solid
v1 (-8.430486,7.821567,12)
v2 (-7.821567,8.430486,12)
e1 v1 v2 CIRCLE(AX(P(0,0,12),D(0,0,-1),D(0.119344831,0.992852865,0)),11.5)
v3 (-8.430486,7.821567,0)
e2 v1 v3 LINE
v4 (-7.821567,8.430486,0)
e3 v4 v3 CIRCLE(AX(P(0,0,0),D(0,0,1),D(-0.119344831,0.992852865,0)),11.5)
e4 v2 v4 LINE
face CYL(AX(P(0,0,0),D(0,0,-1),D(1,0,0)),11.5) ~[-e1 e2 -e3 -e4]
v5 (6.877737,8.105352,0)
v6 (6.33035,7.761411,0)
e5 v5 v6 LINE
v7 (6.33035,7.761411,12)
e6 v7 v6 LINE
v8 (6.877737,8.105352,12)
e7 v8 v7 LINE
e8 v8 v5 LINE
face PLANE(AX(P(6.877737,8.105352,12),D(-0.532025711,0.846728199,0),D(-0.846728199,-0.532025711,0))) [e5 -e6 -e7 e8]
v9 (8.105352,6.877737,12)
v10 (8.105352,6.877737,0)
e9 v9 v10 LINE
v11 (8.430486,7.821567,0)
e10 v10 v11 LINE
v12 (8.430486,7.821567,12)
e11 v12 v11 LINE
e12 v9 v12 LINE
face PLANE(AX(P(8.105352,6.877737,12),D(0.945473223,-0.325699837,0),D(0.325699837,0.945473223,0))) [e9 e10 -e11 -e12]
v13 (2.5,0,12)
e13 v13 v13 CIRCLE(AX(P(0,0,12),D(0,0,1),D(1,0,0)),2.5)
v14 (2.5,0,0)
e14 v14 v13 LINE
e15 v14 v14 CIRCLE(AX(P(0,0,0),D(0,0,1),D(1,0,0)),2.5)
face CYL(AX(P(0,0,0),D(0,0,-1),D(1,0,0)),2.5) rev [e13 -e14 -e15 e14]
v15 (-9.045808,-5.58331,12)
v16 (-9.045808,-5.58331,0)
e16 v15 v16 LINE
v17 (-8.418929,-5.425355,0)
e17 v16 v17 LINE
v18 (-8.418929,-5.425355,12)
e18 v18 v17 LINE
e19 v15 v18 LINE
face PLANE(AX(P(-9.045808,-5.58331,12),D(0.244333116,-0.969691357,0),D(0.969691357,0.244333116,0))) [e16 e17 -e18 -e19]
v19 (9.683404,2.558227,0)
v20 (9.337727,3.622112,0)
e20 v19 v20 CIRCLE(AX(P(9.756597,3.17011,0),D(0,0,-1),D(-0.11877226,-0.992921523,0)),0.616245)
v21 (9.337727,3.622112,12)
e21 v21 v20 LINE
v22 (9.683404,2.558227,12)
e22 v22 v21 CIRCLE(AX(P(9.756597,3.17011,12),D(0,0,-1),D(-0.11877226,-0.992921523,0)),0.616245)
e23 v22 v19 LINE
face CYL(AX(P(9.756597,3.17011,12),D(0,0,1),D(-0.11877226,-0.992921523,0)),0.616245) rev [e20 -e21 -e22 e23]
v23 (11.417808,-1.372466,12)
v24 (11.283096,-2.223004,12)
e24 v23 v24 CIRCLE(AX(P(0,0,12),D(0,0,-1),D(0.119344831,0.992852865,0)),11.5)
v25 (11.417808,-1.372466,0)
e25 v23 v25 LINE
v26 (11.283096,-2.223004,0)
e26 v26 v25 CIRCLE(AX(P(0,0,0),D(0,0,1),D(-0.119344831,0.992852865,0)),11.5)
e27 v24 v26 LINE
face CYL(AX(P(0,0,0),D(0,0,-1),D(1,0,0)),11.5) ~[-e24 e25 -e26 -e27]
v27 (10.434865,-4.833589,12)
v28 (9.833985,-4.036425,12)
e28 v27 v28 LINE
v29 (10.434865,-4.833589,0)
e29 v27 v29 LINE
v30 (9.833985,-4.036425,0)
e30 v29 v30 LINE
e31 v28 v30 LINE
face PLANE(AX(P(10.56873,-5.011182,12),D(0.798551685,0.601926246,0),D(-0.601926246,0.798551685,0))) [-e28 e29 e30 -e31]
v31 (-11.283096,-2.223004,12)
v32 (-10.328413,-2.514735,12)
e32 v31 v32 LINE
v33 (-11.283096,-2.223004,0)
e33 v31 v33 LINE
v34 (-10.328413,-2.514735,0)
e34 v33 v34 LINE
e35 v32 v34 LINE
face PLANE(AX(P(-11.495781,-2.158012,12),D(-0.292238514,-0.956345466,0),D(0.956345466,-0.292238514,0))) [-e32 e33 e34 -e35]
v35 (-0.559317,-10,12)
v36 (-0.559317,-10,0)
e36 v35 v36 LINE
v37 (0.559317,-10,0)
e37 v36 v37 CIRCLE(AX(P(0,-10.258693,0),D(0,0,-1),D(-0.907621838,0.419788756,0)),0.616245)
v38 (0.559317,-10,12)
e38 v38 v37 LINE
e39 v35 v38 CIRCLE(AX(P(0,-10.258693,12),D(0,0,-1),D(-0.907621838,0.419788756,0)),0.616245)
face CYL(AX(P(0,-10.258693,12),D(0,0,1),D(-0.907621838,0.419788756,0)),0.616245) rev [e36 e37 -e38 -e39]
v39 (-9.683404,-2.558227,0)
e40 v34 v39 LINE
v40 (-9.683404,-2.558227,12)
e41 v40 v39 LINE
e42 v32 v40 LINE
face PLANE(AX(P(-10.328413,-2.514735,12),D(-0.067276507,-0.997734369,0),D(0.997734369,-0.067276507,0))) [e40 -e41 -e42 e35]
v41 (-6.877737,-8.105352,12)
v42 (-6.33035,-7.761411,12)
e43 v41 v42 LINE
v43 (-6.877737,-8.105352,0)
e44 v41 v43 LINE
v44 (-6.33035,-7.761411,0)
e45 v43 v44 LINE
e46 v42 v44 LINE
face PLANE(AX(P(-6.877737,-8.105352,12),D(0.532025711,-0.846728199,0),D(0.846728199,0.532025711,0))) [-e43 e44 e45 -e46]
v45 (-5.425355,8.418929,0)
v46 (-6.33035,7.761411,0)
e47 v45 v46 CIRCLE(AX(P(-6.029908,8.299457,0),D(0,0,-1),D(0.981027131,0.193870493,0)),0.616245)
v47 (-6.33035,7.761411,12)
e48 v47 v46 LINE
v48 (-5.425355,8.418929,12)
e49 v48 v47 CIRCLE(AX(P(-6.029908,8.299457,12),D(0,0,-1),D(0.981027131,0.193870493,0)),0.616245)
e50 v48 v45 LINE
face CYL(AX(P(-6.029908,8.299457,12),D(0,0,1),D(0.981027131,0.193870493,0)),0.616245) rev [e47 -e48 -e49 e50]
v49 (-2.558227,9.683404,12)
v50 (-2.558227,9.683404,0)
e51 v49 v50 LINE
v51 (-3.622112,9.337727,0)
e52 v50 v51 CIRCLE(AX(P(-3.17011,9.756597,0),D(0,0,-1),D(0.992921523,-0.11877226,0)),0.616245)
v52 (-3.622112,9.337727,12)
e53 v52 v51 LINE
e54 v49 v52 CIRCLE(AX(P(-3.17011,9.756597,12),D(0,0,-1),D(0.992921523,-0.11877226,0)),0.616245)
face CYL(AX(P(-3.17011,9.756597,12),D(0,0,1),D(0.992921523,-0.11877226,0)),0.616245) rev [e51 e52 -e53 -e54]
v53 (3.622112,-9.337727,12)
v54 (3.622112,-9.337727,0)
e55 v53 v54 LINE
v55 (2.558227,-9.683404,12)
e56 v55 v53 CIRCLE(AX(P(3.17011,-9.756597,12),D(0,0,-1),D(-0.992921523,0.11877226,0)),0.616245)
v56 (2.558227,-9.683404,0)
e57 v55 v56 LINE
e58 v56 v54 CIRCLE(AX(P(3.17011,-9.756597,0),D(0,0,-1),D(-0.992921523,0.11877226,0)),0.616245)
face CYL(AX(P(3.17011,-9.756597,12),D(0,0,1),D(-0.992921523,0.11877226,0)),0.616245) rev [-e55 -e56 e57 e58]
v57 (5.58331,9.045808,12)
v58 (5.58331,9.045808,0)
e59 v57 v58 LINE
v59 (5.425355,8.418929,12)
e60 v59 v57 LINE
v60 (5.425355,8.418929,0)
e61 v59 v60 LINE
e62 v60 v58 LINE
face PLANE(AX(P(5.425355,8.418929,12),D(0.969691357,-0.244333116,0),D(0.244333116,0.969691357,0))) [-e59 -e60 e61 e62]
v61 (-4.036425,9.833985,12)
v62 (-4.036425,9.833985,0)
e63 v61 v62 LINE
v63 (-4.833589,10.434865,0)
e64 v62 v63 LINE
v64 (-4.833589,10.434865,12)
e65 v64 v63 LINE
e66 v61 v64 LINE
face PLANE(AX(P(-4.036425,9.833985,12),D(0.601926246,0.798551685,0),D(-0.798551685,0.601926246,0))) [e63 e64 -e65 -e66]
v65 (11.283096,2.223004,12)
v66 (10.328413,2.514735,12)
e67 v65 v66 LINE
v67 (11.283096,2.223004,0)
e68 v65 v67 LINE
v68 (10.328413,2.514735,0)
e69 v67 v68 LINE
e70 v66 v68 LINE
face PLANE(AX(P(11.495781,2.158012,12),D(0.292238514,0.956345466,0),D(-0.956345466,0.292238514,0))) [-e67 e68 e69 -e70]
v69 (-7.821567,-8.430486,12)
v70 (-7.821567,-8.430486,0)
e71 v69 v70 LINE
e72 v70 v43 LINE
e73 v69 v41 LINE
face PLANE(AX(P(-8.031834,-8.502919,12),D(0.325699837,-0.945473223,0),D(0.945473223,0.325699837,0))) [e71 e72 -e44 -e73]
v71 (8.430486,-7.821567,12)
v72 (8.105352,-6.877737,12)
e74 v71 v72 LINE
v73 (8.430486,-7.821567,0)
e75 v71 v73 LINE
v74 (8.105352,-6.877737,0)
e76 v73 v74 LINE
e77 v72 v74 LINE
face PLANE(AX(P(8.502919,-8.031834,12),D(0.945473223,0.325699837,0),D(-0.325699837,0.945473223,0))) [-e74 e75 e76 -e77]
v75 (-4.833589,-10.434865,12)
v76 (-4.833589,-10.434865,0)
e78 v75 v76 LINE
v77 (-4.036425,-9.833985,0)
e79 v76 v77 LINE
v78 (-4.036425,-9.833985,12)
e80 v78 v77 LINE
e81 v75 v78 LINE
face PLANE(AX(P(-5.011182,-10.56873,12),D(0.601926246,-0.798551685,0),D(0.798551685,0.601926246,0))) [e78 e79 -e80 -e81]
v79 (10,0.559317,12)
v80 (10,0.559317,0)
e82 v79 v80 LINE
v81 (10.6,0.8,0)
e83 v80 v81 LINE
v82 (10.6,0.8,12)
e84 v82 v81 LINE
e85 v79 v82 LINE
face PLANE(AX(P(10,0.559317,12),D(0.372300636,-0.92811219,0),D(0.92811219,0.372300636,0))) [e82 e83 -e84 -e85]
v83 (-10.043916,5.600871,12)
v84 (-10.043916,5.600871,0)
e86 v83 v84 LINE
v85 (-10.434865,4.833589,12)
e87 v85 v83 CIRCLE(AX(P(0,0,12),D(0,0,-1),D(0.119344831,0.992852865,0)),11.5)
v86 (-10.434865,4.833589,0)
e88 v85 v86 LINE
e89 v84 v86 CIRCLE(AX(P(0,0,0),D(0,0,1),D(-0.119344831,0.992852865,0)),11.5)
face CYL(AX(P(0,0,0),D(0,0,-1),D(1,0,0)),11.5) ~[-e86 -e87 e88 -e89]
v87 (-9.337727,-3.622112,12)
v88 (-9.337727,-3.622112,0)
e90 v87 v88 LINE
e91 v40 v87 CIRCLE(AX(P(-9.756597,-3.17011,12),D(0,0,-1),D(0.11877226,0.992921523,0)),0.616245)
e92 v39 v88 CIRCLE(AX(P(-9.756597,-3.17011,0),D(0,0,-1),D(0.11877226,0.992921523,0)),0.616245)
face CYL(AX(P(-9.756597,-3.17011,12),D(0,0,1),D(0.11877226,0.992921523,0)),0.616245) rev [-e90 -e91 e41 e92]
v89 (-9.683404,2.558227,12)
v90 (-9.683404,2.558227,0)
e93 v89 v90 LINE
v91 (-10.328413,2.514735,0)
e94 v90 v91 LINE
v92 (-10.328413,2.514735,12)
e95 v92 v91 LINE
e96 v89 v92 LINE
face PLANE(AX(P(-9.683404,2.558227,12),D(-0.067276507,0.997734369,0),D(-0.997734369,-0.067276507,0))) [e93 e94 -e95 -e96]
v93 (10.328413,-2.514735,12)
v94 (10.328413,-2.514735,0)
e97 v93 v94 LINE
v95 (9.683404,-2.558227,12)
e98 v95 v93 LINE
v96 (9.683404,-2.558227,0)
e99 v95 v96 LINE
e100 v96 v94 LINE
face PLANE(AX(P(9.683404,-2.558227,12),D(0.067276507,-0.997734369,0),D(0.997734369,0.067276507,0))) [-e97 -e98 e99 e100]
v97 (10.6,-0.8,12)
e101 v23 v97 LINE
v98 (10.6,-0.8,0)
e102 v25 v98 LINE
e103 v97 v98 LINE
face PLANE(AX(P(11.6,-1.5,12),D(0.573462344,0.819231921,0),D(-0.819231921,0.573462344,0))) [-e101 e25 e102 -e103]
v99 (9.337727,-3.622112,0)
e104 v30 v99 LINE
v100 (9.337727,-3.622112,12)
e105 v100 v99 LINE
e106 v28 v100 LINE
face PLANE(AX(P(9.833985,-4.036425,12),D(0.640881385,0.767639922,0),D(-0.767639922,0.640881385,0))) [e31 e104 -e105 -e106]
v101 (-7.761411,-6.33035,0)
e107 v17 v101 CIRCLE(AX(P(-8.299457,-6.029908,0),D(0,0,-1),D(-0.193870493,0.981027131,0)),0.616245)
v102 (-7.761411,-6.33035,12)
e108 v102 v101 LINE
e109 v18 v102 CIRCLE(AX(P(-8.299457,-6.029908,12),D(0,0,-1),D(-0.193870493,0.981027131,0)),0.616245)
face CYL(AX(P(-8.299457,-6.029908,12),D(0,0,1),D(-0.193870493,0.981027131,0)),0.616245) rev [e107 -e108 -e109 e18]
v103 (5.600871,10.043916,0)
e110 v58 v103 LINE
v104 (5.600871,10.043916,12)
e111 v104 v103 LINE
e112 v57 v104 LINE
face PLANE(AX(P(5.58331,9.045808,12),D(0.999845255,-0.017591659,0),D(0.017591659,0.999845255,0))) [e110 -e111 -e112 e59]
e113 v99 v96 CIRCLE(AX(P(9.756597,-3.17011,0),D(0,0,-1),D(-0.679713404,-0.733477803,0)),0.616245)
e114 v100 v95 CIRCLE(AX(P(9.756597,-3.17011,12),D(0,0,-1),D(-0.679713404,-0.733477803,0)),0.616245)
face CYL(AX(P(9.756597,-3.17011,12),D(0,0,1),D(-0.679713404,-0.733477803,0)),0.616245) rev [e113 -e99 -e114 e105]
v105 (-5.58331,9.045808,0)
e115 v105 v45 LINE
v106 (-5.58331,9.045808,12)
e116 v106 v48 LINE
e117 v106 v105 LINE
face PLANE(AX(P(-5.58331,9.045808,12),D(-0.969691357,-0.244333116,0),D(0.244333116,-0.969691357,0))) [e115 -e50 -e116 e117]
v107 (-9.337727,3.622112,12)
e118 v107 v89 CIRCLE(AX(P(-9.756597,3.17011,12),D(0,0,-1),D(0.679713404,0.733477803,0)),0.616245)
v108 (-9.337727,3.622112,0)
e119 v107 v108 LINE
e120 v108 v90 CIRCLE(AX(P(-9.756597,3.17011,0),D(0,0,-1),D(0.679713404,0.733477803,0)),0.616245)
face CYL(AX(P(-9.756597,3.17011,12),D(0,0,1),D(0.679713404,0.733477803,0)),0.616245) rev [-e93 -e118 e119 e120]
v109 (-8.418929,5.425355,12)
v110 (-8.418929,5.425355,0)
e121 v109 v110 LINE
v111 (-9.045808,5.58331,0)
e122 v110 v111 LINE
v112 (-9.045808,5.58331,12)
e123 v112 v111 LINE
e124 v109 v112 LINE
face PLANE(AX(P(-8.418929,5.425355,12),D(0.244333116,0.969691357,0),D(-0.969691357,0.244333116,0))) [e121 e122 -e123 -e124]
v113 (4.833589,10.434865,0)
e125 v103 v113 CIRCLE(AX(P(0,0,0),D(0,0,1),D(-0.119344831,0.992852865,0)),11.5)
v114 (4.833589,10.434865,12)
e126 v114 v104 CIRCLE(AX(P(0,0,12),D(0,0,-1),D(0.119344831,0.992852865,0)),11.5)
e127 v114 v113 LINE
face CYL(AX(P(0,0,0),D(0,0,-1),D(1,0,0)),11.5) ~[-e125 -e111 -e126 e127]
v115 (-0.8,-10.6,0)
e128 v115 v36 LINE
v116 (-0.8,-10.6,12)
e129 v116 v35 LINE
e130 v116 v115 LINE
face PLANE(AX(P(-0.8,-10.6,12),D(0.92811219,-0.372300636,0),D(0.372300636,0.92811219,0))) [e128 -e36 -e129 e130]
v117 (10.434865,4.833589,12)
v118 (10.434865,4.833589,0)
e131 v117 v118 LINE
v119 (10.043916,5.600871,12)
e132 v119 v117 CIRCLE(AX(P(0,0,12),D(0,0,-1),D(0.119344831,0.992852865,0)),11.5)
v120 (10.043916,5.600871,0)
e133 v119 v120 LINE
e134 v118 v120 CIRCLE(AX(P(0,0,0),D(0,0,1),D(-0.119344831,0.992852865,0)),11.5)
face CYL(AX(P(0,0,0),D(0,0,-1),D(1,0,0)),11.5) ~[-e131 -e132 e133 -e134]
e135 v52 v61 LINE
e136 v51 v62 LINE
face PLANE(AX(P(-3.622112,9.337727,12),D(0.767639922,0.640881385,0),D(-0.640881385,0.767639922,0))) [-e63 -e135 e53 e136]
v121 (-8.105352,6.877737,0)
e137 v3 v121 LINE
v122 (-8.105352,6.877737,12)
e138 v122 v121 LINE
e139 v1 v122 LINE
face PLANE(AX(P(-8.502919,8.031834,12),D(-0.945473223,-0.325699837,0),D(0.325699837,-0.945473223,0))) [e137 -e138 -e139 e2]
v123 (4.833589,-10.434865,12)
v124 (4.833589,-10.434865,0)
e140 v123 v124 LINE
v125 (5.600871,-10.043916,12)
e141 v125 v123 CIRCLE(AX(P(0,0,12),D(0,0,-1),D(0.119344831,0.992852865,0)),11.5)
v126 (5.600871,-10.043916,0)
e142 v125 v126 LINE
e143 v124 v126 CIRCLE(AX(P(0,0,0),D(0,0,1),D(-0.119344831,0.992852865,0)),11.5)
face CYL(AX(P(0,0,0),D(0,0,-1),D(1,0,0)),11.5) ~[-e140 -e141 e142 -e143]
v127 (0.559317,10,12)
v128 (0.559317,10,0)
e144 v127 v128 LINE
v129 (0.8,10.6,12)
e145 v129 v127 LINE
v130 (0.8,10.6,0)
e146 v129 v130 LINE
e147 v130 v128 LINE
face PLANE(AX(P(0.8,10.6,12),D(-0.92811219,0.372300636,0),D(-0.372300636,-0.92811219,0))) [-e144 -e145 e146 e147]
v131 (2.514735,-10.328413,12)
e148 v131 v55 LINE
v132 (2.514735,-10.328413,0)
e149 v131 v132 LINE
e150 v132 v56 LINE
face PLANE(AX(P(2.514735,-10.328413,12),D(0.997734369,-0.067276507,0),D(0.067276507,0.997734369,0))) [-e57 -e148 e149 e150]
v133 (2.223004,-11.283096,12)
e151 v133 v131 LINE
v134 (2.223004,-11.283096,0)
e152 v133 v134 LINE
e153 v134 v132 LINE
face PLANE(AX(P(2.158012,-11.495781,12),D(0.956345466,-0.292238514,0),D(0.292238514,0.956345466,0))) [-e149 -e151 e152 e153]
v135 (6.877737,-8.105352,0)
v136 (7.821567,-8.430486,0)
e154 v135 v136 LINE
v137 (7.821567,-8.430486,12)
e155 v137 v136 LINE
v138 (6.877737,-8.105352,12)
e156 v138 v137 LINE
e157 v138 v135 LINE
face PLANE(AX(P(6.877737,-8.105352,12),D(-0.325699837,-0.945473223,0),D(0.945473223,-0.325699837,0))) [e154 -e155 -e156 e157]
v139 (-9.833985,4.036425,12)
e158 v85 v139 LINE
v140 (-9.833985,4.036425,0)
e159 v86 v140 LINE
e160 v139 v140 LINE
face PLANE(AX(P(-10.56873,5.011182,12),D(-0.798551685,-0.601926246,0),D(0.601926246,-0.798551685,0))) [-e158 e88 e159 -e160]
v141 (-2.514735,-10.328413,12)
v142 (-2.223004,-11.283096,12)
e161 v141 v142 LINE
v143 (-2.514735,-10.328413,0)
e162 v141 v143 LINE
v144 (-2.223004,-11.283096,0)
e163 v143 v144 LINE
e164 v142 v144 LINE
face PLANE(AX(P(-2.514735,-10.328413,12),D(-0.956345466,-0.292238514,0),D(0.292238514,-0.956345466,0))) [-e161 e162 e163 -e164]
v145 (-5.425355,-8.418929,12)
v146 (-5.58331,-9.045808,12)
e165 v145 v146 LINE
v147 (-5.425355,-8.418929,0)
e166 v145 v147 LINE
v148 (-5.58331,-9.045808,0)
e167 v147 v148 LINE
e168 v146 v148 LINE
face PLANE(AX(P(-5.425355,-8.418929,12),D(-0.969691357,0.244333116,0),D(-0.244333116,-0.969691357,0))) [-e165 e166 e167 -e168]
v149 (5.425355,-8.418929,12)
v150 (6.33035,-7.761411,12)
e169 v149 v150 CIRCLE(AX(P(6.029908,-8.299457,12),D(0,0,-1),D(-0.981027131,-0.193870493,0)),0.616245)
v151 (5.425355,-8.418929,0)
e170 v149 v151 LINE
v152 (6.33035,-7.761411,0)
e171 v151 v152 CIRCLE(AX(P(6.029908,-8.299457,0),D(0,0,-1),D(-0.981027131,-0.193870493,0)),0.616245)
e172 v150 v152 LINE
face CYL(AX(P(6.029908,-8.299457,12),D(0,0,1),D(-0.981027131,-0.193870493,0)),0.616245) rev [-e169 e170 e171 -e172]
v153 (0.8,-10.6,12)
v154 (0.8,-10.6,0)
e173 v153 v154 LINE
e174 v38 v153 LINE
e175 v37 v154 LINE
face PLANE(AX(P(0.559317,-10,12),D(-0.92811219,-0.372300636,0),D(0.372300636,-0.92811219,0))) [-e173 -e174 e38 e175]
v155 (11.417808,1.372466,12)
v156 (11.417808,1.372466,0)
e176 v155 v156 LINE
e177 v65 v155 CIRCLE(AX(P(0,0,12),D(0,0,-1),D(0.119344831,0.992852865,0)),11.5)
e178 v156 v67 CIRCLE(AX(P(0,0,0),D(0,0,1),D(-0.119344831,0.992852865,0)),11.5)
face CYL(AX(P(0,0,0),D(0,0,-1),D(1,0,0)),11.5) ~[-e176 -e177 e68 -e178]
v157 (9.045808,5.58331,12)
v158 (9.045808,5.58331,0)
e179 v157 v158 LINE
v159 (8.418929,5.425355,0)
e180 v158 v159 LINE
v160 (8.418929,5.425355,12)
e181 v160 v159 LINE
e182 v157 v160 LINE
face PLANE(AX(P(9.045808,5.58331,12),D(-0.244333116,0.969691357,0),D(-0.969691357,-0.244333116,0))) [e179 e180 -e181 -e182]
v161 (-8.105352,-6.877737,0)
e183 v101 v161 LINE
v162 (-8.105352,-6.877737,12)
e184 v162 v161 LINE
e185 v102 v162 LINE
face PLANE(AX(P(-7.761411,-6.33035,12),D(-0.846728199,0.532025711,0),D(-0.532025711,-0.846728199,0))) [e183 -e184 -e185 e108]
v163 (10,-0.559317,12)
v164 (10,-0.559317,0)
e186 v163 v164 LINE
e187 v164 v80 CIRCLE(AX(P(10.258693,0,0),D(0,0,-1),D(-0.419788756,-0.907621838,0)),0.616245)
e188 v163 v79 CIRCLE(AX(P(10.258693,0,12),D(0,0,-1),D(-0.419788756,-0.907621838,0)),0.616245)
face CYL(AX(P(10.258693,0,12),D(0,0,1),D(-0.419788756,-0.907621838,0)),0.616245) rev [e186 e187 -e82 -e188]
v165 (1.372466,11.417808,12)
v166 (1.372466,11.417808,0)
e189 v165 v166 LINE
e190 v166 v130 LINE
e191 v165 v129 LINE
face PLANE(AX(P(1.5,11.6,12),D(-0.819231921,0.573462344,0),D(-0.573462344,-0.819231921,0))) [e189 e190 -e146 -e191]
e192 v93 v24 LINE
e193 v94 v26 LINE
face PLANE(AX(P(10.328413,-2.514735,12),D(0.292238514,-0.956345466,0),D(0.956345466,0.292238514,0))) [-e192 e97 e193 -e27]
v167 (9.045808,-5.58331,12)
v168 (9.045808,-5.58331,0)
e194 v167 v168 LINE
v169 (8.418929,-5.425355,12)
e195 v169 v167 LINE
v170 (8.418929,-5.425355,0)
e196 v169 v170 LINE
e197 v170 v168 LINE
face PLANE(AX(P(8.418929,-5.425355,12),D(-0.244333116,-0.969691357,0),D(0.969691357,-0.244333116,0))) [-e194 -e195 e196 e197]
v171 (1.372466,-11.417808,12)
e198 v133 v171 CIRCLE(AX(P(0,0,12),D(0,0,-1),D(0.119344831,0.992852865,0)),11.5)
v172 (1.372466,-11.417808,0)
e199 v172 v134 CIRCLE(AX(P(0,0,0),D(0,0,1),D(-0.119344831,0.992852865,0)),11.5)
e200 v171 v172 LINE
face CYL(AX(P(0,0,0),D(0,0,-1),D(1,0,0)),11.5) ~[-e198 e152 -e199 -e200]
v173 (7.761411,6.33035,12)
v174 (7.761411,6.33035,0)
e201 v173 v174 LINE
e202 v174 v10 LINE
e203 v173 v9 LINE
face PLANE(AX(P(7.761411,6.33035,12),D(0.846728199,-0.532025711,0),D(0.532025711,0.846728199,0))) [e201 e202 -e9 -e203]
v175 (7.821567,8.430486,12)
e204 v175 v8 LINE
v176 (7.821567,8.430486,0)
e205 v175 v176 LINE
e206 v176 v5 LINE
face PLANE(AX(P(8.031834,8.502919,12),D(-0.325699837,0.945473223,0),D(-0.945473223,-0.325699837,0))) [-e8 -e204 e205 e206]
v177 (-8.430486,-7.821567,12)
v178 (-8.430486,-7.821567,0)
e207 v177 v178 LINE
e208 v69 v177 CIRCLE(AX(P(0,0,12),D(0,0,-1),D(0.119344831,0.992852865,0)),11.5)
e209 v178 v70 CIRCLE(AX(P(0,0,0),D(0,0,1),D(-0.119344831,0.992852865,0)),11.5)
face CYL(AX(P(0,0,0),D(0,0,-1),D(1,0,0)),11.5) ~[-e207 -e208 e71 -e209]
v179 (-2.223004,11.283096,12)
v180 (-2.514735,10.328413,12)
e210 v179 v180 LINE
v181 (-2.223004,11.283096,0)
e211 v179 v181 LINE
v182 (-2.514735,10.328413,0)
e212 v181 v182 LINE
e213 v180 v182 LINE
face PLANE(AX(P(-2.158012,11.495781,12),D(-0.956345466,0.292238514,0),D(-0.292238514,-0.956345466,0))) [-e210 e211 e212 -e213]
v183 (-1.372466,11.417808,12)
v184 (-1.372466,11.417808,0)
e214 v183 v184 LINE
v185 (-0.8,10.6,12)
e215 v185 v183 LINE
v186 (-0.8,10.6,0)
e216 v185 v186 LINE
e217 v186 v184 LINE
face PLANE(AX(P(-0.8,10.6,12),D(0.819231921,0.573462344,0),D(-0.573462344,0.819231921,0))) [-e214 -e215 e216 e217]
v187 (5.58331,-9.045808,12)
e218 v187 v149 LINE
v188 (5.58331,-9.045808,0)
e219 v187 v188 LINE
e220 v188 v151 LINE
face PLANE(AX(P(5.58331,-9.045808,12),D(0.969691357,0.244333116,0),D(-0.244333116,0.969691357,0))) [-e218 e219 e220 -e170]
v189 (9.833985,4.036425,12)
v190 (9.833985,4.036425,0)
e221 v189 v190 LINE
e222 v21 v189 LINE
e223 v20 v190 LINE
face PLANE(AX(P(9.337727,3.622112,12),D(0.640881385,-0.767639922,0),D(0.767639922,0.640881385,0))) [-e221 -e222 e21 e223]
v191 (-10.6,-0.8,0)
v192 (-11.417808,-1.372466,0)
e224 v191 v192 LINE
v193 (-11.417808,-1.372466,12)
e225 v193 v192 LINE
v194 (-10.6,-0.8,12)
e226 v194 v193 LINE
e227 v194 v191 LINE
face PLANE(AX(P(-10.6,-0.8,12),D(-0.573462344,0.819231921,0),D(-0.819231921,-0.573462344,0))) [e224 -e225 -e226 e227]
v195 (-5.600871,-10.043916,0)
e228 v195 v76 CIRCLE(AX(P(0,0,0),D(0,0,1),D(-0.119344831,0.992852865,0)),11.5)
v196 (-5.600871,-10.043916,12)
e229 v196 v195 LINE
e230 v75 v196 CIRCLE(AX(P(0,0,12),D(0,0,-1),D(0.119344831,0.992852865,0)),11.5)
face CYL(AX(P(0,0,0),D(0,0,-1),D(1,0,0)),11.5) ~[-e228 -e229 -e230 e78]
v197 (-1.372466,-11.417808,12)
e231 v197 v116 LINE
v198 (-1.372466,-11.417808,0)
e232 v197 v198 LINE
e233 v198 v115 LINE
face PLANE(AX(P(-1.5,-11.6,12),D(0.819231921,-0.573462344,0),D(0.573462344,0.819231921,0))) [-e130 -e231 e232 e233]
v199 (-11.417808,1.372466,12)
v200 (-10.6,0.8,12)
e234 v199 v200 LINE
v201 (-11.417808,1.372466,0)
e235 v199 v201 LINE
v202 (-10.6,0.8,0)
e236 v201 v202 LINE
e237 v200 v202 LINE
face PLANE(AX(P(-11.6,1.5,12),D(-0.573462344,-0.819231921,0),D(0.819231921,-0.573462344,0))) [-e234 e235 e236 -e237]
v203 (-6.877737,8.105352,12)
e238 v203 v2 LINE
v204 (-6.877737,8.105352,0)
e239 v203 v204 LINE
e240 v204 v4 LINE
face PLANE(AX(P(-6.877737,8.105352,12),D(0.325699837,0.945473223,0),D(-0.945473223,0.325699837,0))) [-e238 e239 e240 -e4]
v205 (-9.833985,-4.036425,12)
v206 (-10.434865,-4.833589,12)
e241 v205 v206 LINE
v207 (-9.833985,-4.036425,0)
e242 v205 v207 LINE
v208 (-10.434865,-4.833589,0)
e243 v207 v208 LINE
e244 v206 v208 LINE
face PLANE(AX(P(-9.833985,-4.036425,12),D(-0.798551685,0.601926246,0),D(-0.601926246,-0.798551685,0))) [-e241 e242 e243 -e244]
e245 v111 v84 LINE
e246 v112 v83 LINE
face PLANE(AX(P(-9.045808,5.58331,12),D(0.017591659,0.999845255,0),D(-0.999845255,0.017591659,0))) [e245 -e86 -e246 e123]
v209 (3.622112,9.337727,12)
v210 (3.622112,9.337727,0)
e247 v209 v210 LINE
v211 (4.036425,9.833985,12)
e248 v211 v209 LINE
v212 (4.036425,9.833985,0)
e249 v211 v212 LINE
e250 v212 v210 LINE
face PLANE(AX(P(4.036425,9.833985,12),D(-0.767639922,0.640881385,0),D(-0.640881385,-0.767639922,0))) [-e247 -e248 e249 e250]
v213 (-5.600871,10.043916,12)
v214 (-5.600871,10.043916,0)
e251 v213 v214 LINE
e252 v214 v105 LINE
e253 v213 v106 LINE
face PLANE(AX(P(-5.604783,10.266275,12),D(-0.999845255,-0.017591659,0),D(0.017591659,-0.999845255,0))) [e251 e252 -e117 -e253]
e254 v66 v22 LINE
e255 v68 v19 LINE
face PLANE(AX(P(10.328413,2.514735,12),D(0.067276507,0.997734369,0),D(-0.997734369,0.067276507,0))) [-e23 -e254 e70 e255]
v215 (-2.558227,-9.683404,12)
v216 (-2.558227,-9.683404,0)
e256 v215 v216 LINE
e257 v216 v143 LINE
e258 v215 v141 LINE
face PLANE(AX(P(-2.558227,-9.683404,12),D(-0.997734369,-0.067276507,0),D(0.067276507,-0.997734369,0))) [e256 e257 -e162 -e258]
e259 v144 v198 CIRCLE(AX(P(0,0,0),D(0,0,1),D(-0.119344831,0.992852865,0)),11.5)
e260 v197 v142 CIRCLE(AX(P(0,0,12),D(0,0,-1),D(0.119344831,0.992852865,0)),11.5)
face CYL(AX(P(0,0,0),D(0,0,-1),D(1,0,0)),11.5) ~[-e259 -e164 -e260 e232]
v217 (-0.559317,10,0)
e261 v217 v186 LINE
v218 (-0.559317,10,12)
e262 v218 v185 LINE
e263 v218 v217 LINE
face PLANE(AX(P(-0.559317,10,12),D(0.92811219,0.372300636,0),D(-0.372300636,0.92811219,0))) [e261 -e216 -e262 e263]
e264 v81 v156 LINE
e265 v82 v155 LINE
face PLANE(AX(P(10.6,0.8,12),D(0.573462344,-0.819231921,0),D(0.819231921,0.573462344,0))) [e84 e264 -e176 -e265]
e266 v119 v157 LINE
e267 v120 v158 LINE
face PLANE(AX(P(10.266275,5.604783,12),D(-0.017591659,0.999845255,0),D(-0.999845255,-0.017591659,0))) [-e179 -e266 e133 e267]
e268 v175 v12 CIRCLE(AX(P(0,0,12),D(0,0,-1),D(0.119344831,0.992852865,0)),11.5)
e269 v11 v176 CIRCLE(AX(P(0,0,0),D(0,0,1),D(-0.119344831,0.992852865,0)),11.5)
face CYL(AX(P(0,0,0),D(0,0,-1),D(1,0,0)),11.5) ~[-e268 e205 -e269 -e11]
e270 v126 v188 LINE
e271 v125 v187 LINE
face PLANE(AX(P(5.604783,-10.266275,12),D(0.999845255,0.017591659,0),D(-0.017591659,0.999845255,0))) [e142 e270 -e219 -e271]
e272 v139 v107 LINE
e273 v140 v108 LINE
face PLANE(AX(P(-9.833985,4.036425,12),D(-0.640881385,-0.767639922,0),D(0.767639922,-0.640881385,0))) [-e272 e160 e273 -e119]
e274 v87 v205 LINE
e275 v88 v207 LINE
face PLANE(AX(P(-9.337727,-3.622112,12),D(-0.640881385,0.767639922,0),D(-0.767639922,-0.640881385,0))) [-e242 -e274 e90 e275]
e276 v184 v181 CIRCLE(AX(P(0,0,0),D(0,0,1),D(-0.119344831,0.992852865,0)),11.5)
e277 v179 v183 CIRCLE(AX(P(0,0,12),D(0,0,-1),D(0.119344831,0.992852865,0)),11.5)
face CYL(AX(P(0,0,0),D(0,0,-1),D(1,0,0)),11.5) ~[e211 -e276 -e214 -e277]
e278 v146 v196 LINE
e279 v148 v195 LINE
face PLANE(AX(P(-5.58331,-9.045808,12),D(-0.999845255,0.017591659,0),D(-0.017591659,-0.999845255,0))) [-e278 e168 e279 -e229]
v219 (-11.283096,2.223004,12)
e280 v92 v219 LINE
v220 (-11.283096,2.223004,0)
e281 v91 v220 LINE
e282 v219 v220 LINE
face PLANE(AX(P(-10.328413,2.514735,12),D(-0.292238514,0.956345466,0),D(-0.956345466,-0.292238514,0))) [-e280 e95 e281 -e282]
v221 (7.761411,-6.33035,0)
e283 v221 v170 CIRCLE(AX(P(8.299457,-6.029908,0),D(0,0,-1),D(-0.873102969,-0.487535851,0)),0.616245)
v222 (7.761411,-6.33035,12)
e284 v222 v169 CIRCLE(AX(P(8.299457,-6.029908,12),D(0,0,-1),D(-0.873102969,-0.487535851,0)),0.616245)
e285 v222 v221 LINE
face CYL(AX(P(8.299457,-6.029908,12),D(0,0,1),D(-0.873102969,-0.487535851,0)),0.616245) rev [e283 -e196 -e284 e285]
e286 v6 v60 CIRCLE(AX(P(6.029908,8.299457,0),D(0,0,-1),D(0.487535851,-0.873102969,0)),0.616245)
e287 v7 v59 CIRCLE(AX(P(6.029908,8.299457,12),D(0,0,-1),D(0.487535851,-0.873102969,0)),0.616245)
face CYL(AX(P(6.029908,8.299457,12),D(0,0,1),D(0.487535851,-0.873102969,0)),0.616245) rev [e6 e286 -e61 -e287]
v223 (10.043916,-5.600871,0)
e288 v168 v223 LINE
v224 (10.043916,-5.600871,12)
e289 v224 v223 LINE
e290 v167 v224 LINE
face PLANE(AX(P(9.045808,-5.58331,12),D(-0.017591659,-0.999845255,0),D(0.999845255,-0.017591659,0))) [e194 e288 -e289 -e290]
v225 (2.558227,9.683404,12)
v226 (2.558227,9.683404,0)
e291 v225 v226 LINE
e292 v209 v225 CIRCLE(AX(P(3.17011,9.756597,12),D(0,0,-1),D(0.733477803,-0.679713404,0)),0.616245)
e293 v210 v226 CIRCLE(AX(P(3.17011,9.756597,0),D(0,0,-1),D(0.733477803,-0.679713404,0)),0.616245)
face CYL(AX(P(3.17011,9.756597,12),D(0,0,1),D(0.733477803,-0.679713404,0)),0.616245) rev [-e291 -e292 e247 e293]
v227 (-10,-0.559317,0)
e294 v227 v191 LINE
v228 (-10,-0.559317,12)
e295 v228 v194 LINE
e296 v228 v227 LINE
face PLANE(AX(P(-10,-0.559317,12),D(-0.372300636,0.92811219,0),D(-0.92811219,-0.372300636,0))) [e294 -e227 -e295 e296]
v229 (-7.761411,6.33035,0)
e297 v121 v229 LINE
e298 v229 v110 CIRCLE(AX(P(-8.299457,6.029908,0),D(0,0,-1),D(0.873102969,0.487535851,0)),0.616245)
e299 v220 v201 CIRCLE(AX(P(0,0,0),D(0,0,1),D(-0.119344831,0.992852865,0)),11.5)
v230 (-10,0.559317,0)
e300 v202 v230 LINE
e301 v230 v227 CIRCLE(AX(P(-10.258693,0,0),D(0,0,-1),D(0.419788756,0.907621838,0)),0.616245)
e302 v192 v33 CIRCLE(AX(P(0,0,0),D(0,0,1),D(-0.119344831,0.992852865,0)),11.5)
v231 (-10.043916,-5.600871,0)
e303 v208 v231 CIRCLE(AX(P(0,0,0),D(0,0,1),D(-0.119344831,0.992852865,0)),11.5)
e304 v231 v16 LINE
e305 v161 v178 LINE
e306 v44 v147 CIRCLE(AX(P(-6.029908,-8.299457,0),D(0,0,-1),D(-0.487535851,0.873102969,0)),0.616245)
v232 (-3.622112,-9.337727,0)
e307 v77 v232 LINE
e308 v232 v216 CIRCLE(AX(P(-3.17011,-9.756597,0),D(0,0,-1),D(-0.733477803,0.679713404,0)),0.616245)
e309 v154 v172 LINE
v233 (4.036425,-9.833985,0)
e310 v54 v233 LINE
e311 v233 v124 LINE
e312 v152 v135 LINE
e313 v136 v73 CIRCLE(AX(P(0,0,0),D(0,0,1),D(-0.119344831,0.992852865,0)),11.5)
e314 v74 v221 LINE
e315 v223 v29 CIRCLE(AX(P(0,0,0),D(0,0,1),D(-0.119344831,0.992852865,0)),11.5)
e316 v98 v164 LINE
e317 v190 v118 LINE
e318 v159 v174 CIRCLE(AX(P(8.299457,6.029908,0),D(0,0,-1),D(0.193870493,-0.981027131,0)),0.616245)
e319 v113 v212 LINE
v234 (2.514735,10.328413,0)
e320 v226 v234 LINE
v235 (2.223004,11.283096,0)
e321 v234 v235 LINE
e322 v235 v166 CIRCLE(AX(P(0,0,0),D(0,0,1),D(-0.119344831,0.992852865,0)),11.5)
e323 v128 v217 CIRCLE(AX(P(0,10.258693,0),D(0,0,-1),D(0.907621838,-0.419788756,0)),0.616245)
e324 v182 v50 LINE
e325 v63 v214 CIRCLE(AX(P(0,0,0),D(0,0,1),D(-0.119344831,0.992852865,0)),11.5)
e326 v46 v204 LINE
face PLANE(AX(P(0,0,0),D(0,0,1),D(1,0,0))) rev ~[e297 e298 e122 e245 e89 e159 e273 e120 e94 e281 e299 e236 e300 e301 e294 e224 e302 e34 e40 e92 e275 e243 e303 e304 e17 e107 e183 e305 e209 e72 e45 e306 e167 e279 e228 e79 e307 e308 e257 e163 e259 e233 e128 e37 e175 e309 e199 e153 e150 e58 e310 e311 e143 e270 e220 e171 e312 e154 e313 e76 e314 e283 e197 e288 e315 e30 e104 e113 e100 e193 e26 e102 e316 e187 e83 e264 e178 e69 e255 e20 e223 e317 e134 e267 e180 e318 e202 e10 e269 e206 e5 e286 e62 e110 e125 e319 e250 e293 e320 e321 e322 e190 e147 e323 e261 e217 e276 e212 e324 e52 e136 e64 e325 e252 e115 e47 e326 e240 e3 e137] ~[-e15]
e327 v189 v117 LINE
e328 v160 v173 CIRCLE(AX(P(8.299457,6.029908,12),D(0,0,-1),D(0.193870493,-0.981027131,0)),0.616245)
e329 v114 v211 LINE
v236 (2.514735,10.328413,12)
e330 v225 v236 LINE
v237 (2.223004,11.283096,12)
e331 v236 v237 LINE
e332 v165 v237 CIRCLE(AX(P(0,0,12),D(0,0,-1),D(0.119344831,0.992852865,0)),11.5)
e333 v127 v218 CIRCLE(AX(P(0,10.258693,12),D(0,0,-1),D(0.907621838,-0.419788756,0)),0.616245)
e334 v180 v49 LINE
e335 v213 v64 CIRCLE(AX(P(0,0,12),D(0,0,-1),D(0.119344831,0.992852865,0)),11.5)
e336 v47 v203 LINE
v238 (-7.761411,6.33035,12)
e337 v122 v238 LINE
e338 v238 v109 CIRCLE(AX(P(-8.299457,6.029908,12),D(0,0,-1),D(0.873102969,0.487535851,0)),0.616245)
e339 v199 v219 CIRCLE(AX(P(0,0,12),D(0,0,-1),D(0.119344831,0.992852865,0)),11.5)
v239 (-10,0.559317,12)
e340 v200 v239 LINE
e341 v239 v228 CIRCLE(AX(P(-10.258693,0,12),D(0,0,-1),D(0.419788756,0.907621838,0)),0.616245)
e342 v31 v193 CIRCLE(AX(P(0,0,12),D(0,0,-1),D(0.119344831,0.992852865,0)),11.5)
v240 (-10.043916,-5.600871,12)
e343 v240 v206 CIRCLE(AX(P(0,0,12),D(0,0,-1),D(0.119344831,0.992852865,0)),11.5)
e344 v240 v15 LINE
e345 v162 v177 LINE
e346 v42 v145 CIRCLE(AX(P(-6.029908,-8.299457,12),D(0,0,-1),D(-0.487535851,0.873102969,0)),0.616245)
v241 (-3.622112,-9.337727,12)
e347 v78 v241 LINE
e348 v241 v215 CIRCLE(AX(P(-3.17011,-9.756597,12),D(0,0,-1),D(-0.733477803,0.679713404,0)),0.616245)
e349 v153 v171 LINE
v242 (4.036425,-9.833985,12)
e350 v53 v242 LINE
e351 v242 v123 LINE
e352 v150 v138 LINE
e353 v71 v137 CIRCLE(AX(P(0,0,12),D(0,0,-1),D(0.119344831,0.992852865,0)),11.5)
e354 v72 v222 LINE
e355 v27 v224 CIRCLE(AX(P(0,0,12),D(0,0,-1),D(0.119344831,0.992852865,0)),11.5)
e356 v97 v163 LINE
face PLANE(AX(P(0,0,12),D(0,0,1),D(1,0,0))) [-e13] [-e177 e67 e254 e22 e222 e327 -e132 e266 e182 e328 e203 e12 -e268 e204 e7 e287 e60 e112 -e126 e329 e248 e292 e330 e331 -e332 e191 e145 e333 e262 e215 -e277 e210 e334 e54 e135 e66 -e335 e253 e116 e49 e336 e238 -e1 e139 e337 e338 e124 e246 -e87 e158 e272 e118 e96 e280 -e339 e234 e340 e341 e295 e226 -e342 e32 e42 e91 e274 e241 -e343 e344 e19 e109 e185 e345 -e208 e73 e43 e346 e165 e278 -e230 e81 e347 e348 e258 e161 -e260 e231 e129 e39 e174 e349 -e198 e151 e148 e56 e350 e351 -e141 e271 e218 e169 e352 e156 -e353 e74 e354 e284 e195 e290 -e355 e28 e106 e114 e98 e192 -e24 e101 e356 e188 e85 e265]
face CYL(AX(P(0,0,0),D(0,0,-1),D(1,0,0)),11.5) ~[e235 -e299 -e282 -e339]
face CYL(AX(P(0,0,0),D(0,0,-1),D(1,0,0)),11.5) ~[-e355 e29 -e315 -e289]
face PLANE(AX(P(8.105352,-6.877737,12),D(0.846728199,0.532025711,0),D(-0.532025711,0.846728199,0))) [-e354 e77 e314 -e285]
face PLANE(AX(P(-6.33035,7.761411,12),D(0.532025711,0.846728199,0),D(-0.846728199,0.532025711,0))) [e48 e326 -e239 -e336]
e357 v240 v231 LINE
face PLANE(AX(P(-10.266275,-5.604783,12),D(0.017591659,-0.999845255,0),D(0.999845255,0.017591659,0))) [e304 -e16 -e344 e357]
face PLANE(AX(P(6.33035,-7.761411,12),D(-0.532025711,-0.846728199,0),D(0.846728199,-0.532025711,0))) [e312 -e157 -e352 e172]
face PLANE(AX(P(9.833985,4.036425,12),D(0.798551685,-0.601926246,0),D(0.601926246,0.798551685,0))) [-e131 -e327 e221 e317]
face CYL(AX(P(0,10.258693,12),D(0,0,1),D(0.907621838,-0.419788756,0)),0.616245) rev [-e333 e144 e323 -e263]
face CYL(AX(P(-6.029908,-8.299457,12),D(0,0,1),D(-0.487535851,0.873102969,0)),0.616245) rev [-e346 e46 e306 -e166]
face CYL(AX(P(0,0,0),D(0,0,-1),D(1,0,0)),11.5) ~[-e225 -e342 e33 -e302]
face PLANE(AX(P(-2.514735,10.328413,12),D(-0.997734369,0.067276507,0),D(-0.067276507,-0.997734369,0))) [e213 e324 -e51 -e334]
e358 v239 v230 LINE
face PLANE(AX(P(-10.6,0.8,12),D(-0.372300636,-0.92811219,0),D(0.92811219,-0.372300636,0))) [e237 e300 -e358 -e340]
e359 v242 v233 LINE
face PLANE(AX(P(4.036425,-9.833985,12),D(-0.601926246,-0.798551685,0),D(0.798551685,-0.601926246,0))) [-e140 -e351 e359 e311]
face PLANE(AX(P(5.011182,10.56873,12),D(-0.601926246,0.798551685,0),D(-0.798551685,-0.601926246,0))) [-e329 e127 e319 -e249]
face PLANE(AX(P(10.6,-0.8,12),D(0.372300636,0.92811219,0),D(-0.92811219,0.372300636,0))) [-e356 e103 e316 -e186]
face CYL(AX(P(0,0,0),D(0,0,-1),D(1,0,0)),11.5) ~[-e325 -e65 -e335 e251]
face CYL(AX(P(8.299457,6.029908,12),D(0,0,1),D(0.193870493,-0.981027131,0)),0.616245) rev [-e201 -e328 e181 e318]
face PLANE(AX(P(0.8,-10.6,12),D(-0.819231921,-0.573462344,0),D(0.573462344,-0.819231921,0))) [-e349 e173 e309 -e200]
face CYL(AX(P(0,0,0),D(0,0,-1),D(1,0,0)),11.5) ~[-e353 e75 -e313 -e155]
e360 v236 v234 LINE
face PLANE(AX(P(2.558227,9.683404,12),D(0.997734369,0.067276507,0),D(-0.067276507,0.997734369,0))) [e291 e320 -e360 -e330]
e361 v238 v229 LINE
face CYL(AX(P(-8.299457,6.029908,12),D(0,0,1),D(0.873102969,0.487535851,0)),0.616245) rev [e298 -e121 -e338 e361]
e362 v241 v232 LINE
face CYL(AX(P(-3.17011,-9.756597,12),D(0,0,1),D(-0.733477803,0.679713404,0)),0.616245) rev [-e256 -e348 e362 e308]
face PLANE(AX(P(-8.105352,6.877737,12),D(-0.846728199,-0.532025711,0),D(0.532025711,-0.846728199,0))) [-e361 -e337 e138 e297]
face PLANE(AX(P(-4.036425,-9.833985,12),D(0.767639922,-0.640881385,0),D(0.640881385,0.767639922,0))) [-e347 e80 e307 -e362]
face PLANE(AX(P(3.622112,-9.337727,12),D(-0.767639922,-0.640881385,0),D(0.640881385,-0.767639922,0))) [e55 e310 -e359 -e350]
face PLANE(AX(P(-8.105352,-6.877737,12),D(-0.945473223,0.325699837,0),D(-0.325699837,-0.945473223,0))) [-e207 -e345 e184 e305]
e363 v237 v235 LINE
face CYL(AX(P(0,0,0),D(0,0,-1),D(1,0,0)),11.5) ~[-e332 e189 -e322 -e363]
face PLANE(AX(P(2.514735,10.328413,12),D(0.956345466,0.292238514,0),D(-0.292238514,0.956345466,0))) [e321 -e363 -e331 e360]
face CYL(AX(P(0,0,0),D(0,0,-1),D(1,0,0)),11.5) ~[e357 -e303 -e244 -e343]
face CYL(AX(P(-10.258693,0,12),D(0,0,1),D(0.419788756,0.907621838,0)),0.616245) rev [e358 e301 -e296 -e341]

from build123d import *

# Parameters (mm, degrees)
SKETCH1_R           = 11.5
SKETCH1_R_2         = 2.5
BOSS_EXTRUDE1_DEPTH = 12
CUT_EXTRUDE1_DEPTH  = 12
CIRPATTERN1_COUNT   = 20


with BuildPart() as part:
    # Sketch1 → Boss-Extrude1 (new body)
    with BuildSketch(Plane.XY):
        Circle(SKETCH1_R)
        Circle(SKETCH1_R_2, mode=Mode.SUBTRACT)
    extrude(amount=BOSS_EXTRUDE1_DEPTH)

    # Sketch2 → Cut-Extrude1 (cut)
    with BuildSketch(Plane.XY.offset(12)):
        with BuildLine():
            Line((0, 11.6), (1.5, 11.6))
            Line((1.5, 11.6), (0.8, 10.6))
            Line((0.8, 10.6), (0.559317479, 10))
            ThreePointArc((0.559317479, 10), (0, 9.642447684), (-0.559317479, 10))
            Line((-0.559317479, 10), (-0.8, 10.6))
            Line((-0.8, 10.6), (-1.5, 11.6))
            Line((-1.5, 11.6), (0, 11.6))
        make_face()
    cut_extrude1 = extrude(amount=-CUT_EXTRUDE1_DEPTH, mode=Mode.SUBTRACT)

    # CirPattern1: Cut-Extrude1 ×20 about axis
    cirpattern1_axis = Axis((0, 0, 0), (0, 0, 1))
    for i in range(1, CIRPATTERN1_COUNT):
        add(cut_extrude1.rotate(cirpattern1_axis, i * 360 / CIRPATTERN1_COUNT), mode=Mode.SUBTRACT)


solid = part.part
